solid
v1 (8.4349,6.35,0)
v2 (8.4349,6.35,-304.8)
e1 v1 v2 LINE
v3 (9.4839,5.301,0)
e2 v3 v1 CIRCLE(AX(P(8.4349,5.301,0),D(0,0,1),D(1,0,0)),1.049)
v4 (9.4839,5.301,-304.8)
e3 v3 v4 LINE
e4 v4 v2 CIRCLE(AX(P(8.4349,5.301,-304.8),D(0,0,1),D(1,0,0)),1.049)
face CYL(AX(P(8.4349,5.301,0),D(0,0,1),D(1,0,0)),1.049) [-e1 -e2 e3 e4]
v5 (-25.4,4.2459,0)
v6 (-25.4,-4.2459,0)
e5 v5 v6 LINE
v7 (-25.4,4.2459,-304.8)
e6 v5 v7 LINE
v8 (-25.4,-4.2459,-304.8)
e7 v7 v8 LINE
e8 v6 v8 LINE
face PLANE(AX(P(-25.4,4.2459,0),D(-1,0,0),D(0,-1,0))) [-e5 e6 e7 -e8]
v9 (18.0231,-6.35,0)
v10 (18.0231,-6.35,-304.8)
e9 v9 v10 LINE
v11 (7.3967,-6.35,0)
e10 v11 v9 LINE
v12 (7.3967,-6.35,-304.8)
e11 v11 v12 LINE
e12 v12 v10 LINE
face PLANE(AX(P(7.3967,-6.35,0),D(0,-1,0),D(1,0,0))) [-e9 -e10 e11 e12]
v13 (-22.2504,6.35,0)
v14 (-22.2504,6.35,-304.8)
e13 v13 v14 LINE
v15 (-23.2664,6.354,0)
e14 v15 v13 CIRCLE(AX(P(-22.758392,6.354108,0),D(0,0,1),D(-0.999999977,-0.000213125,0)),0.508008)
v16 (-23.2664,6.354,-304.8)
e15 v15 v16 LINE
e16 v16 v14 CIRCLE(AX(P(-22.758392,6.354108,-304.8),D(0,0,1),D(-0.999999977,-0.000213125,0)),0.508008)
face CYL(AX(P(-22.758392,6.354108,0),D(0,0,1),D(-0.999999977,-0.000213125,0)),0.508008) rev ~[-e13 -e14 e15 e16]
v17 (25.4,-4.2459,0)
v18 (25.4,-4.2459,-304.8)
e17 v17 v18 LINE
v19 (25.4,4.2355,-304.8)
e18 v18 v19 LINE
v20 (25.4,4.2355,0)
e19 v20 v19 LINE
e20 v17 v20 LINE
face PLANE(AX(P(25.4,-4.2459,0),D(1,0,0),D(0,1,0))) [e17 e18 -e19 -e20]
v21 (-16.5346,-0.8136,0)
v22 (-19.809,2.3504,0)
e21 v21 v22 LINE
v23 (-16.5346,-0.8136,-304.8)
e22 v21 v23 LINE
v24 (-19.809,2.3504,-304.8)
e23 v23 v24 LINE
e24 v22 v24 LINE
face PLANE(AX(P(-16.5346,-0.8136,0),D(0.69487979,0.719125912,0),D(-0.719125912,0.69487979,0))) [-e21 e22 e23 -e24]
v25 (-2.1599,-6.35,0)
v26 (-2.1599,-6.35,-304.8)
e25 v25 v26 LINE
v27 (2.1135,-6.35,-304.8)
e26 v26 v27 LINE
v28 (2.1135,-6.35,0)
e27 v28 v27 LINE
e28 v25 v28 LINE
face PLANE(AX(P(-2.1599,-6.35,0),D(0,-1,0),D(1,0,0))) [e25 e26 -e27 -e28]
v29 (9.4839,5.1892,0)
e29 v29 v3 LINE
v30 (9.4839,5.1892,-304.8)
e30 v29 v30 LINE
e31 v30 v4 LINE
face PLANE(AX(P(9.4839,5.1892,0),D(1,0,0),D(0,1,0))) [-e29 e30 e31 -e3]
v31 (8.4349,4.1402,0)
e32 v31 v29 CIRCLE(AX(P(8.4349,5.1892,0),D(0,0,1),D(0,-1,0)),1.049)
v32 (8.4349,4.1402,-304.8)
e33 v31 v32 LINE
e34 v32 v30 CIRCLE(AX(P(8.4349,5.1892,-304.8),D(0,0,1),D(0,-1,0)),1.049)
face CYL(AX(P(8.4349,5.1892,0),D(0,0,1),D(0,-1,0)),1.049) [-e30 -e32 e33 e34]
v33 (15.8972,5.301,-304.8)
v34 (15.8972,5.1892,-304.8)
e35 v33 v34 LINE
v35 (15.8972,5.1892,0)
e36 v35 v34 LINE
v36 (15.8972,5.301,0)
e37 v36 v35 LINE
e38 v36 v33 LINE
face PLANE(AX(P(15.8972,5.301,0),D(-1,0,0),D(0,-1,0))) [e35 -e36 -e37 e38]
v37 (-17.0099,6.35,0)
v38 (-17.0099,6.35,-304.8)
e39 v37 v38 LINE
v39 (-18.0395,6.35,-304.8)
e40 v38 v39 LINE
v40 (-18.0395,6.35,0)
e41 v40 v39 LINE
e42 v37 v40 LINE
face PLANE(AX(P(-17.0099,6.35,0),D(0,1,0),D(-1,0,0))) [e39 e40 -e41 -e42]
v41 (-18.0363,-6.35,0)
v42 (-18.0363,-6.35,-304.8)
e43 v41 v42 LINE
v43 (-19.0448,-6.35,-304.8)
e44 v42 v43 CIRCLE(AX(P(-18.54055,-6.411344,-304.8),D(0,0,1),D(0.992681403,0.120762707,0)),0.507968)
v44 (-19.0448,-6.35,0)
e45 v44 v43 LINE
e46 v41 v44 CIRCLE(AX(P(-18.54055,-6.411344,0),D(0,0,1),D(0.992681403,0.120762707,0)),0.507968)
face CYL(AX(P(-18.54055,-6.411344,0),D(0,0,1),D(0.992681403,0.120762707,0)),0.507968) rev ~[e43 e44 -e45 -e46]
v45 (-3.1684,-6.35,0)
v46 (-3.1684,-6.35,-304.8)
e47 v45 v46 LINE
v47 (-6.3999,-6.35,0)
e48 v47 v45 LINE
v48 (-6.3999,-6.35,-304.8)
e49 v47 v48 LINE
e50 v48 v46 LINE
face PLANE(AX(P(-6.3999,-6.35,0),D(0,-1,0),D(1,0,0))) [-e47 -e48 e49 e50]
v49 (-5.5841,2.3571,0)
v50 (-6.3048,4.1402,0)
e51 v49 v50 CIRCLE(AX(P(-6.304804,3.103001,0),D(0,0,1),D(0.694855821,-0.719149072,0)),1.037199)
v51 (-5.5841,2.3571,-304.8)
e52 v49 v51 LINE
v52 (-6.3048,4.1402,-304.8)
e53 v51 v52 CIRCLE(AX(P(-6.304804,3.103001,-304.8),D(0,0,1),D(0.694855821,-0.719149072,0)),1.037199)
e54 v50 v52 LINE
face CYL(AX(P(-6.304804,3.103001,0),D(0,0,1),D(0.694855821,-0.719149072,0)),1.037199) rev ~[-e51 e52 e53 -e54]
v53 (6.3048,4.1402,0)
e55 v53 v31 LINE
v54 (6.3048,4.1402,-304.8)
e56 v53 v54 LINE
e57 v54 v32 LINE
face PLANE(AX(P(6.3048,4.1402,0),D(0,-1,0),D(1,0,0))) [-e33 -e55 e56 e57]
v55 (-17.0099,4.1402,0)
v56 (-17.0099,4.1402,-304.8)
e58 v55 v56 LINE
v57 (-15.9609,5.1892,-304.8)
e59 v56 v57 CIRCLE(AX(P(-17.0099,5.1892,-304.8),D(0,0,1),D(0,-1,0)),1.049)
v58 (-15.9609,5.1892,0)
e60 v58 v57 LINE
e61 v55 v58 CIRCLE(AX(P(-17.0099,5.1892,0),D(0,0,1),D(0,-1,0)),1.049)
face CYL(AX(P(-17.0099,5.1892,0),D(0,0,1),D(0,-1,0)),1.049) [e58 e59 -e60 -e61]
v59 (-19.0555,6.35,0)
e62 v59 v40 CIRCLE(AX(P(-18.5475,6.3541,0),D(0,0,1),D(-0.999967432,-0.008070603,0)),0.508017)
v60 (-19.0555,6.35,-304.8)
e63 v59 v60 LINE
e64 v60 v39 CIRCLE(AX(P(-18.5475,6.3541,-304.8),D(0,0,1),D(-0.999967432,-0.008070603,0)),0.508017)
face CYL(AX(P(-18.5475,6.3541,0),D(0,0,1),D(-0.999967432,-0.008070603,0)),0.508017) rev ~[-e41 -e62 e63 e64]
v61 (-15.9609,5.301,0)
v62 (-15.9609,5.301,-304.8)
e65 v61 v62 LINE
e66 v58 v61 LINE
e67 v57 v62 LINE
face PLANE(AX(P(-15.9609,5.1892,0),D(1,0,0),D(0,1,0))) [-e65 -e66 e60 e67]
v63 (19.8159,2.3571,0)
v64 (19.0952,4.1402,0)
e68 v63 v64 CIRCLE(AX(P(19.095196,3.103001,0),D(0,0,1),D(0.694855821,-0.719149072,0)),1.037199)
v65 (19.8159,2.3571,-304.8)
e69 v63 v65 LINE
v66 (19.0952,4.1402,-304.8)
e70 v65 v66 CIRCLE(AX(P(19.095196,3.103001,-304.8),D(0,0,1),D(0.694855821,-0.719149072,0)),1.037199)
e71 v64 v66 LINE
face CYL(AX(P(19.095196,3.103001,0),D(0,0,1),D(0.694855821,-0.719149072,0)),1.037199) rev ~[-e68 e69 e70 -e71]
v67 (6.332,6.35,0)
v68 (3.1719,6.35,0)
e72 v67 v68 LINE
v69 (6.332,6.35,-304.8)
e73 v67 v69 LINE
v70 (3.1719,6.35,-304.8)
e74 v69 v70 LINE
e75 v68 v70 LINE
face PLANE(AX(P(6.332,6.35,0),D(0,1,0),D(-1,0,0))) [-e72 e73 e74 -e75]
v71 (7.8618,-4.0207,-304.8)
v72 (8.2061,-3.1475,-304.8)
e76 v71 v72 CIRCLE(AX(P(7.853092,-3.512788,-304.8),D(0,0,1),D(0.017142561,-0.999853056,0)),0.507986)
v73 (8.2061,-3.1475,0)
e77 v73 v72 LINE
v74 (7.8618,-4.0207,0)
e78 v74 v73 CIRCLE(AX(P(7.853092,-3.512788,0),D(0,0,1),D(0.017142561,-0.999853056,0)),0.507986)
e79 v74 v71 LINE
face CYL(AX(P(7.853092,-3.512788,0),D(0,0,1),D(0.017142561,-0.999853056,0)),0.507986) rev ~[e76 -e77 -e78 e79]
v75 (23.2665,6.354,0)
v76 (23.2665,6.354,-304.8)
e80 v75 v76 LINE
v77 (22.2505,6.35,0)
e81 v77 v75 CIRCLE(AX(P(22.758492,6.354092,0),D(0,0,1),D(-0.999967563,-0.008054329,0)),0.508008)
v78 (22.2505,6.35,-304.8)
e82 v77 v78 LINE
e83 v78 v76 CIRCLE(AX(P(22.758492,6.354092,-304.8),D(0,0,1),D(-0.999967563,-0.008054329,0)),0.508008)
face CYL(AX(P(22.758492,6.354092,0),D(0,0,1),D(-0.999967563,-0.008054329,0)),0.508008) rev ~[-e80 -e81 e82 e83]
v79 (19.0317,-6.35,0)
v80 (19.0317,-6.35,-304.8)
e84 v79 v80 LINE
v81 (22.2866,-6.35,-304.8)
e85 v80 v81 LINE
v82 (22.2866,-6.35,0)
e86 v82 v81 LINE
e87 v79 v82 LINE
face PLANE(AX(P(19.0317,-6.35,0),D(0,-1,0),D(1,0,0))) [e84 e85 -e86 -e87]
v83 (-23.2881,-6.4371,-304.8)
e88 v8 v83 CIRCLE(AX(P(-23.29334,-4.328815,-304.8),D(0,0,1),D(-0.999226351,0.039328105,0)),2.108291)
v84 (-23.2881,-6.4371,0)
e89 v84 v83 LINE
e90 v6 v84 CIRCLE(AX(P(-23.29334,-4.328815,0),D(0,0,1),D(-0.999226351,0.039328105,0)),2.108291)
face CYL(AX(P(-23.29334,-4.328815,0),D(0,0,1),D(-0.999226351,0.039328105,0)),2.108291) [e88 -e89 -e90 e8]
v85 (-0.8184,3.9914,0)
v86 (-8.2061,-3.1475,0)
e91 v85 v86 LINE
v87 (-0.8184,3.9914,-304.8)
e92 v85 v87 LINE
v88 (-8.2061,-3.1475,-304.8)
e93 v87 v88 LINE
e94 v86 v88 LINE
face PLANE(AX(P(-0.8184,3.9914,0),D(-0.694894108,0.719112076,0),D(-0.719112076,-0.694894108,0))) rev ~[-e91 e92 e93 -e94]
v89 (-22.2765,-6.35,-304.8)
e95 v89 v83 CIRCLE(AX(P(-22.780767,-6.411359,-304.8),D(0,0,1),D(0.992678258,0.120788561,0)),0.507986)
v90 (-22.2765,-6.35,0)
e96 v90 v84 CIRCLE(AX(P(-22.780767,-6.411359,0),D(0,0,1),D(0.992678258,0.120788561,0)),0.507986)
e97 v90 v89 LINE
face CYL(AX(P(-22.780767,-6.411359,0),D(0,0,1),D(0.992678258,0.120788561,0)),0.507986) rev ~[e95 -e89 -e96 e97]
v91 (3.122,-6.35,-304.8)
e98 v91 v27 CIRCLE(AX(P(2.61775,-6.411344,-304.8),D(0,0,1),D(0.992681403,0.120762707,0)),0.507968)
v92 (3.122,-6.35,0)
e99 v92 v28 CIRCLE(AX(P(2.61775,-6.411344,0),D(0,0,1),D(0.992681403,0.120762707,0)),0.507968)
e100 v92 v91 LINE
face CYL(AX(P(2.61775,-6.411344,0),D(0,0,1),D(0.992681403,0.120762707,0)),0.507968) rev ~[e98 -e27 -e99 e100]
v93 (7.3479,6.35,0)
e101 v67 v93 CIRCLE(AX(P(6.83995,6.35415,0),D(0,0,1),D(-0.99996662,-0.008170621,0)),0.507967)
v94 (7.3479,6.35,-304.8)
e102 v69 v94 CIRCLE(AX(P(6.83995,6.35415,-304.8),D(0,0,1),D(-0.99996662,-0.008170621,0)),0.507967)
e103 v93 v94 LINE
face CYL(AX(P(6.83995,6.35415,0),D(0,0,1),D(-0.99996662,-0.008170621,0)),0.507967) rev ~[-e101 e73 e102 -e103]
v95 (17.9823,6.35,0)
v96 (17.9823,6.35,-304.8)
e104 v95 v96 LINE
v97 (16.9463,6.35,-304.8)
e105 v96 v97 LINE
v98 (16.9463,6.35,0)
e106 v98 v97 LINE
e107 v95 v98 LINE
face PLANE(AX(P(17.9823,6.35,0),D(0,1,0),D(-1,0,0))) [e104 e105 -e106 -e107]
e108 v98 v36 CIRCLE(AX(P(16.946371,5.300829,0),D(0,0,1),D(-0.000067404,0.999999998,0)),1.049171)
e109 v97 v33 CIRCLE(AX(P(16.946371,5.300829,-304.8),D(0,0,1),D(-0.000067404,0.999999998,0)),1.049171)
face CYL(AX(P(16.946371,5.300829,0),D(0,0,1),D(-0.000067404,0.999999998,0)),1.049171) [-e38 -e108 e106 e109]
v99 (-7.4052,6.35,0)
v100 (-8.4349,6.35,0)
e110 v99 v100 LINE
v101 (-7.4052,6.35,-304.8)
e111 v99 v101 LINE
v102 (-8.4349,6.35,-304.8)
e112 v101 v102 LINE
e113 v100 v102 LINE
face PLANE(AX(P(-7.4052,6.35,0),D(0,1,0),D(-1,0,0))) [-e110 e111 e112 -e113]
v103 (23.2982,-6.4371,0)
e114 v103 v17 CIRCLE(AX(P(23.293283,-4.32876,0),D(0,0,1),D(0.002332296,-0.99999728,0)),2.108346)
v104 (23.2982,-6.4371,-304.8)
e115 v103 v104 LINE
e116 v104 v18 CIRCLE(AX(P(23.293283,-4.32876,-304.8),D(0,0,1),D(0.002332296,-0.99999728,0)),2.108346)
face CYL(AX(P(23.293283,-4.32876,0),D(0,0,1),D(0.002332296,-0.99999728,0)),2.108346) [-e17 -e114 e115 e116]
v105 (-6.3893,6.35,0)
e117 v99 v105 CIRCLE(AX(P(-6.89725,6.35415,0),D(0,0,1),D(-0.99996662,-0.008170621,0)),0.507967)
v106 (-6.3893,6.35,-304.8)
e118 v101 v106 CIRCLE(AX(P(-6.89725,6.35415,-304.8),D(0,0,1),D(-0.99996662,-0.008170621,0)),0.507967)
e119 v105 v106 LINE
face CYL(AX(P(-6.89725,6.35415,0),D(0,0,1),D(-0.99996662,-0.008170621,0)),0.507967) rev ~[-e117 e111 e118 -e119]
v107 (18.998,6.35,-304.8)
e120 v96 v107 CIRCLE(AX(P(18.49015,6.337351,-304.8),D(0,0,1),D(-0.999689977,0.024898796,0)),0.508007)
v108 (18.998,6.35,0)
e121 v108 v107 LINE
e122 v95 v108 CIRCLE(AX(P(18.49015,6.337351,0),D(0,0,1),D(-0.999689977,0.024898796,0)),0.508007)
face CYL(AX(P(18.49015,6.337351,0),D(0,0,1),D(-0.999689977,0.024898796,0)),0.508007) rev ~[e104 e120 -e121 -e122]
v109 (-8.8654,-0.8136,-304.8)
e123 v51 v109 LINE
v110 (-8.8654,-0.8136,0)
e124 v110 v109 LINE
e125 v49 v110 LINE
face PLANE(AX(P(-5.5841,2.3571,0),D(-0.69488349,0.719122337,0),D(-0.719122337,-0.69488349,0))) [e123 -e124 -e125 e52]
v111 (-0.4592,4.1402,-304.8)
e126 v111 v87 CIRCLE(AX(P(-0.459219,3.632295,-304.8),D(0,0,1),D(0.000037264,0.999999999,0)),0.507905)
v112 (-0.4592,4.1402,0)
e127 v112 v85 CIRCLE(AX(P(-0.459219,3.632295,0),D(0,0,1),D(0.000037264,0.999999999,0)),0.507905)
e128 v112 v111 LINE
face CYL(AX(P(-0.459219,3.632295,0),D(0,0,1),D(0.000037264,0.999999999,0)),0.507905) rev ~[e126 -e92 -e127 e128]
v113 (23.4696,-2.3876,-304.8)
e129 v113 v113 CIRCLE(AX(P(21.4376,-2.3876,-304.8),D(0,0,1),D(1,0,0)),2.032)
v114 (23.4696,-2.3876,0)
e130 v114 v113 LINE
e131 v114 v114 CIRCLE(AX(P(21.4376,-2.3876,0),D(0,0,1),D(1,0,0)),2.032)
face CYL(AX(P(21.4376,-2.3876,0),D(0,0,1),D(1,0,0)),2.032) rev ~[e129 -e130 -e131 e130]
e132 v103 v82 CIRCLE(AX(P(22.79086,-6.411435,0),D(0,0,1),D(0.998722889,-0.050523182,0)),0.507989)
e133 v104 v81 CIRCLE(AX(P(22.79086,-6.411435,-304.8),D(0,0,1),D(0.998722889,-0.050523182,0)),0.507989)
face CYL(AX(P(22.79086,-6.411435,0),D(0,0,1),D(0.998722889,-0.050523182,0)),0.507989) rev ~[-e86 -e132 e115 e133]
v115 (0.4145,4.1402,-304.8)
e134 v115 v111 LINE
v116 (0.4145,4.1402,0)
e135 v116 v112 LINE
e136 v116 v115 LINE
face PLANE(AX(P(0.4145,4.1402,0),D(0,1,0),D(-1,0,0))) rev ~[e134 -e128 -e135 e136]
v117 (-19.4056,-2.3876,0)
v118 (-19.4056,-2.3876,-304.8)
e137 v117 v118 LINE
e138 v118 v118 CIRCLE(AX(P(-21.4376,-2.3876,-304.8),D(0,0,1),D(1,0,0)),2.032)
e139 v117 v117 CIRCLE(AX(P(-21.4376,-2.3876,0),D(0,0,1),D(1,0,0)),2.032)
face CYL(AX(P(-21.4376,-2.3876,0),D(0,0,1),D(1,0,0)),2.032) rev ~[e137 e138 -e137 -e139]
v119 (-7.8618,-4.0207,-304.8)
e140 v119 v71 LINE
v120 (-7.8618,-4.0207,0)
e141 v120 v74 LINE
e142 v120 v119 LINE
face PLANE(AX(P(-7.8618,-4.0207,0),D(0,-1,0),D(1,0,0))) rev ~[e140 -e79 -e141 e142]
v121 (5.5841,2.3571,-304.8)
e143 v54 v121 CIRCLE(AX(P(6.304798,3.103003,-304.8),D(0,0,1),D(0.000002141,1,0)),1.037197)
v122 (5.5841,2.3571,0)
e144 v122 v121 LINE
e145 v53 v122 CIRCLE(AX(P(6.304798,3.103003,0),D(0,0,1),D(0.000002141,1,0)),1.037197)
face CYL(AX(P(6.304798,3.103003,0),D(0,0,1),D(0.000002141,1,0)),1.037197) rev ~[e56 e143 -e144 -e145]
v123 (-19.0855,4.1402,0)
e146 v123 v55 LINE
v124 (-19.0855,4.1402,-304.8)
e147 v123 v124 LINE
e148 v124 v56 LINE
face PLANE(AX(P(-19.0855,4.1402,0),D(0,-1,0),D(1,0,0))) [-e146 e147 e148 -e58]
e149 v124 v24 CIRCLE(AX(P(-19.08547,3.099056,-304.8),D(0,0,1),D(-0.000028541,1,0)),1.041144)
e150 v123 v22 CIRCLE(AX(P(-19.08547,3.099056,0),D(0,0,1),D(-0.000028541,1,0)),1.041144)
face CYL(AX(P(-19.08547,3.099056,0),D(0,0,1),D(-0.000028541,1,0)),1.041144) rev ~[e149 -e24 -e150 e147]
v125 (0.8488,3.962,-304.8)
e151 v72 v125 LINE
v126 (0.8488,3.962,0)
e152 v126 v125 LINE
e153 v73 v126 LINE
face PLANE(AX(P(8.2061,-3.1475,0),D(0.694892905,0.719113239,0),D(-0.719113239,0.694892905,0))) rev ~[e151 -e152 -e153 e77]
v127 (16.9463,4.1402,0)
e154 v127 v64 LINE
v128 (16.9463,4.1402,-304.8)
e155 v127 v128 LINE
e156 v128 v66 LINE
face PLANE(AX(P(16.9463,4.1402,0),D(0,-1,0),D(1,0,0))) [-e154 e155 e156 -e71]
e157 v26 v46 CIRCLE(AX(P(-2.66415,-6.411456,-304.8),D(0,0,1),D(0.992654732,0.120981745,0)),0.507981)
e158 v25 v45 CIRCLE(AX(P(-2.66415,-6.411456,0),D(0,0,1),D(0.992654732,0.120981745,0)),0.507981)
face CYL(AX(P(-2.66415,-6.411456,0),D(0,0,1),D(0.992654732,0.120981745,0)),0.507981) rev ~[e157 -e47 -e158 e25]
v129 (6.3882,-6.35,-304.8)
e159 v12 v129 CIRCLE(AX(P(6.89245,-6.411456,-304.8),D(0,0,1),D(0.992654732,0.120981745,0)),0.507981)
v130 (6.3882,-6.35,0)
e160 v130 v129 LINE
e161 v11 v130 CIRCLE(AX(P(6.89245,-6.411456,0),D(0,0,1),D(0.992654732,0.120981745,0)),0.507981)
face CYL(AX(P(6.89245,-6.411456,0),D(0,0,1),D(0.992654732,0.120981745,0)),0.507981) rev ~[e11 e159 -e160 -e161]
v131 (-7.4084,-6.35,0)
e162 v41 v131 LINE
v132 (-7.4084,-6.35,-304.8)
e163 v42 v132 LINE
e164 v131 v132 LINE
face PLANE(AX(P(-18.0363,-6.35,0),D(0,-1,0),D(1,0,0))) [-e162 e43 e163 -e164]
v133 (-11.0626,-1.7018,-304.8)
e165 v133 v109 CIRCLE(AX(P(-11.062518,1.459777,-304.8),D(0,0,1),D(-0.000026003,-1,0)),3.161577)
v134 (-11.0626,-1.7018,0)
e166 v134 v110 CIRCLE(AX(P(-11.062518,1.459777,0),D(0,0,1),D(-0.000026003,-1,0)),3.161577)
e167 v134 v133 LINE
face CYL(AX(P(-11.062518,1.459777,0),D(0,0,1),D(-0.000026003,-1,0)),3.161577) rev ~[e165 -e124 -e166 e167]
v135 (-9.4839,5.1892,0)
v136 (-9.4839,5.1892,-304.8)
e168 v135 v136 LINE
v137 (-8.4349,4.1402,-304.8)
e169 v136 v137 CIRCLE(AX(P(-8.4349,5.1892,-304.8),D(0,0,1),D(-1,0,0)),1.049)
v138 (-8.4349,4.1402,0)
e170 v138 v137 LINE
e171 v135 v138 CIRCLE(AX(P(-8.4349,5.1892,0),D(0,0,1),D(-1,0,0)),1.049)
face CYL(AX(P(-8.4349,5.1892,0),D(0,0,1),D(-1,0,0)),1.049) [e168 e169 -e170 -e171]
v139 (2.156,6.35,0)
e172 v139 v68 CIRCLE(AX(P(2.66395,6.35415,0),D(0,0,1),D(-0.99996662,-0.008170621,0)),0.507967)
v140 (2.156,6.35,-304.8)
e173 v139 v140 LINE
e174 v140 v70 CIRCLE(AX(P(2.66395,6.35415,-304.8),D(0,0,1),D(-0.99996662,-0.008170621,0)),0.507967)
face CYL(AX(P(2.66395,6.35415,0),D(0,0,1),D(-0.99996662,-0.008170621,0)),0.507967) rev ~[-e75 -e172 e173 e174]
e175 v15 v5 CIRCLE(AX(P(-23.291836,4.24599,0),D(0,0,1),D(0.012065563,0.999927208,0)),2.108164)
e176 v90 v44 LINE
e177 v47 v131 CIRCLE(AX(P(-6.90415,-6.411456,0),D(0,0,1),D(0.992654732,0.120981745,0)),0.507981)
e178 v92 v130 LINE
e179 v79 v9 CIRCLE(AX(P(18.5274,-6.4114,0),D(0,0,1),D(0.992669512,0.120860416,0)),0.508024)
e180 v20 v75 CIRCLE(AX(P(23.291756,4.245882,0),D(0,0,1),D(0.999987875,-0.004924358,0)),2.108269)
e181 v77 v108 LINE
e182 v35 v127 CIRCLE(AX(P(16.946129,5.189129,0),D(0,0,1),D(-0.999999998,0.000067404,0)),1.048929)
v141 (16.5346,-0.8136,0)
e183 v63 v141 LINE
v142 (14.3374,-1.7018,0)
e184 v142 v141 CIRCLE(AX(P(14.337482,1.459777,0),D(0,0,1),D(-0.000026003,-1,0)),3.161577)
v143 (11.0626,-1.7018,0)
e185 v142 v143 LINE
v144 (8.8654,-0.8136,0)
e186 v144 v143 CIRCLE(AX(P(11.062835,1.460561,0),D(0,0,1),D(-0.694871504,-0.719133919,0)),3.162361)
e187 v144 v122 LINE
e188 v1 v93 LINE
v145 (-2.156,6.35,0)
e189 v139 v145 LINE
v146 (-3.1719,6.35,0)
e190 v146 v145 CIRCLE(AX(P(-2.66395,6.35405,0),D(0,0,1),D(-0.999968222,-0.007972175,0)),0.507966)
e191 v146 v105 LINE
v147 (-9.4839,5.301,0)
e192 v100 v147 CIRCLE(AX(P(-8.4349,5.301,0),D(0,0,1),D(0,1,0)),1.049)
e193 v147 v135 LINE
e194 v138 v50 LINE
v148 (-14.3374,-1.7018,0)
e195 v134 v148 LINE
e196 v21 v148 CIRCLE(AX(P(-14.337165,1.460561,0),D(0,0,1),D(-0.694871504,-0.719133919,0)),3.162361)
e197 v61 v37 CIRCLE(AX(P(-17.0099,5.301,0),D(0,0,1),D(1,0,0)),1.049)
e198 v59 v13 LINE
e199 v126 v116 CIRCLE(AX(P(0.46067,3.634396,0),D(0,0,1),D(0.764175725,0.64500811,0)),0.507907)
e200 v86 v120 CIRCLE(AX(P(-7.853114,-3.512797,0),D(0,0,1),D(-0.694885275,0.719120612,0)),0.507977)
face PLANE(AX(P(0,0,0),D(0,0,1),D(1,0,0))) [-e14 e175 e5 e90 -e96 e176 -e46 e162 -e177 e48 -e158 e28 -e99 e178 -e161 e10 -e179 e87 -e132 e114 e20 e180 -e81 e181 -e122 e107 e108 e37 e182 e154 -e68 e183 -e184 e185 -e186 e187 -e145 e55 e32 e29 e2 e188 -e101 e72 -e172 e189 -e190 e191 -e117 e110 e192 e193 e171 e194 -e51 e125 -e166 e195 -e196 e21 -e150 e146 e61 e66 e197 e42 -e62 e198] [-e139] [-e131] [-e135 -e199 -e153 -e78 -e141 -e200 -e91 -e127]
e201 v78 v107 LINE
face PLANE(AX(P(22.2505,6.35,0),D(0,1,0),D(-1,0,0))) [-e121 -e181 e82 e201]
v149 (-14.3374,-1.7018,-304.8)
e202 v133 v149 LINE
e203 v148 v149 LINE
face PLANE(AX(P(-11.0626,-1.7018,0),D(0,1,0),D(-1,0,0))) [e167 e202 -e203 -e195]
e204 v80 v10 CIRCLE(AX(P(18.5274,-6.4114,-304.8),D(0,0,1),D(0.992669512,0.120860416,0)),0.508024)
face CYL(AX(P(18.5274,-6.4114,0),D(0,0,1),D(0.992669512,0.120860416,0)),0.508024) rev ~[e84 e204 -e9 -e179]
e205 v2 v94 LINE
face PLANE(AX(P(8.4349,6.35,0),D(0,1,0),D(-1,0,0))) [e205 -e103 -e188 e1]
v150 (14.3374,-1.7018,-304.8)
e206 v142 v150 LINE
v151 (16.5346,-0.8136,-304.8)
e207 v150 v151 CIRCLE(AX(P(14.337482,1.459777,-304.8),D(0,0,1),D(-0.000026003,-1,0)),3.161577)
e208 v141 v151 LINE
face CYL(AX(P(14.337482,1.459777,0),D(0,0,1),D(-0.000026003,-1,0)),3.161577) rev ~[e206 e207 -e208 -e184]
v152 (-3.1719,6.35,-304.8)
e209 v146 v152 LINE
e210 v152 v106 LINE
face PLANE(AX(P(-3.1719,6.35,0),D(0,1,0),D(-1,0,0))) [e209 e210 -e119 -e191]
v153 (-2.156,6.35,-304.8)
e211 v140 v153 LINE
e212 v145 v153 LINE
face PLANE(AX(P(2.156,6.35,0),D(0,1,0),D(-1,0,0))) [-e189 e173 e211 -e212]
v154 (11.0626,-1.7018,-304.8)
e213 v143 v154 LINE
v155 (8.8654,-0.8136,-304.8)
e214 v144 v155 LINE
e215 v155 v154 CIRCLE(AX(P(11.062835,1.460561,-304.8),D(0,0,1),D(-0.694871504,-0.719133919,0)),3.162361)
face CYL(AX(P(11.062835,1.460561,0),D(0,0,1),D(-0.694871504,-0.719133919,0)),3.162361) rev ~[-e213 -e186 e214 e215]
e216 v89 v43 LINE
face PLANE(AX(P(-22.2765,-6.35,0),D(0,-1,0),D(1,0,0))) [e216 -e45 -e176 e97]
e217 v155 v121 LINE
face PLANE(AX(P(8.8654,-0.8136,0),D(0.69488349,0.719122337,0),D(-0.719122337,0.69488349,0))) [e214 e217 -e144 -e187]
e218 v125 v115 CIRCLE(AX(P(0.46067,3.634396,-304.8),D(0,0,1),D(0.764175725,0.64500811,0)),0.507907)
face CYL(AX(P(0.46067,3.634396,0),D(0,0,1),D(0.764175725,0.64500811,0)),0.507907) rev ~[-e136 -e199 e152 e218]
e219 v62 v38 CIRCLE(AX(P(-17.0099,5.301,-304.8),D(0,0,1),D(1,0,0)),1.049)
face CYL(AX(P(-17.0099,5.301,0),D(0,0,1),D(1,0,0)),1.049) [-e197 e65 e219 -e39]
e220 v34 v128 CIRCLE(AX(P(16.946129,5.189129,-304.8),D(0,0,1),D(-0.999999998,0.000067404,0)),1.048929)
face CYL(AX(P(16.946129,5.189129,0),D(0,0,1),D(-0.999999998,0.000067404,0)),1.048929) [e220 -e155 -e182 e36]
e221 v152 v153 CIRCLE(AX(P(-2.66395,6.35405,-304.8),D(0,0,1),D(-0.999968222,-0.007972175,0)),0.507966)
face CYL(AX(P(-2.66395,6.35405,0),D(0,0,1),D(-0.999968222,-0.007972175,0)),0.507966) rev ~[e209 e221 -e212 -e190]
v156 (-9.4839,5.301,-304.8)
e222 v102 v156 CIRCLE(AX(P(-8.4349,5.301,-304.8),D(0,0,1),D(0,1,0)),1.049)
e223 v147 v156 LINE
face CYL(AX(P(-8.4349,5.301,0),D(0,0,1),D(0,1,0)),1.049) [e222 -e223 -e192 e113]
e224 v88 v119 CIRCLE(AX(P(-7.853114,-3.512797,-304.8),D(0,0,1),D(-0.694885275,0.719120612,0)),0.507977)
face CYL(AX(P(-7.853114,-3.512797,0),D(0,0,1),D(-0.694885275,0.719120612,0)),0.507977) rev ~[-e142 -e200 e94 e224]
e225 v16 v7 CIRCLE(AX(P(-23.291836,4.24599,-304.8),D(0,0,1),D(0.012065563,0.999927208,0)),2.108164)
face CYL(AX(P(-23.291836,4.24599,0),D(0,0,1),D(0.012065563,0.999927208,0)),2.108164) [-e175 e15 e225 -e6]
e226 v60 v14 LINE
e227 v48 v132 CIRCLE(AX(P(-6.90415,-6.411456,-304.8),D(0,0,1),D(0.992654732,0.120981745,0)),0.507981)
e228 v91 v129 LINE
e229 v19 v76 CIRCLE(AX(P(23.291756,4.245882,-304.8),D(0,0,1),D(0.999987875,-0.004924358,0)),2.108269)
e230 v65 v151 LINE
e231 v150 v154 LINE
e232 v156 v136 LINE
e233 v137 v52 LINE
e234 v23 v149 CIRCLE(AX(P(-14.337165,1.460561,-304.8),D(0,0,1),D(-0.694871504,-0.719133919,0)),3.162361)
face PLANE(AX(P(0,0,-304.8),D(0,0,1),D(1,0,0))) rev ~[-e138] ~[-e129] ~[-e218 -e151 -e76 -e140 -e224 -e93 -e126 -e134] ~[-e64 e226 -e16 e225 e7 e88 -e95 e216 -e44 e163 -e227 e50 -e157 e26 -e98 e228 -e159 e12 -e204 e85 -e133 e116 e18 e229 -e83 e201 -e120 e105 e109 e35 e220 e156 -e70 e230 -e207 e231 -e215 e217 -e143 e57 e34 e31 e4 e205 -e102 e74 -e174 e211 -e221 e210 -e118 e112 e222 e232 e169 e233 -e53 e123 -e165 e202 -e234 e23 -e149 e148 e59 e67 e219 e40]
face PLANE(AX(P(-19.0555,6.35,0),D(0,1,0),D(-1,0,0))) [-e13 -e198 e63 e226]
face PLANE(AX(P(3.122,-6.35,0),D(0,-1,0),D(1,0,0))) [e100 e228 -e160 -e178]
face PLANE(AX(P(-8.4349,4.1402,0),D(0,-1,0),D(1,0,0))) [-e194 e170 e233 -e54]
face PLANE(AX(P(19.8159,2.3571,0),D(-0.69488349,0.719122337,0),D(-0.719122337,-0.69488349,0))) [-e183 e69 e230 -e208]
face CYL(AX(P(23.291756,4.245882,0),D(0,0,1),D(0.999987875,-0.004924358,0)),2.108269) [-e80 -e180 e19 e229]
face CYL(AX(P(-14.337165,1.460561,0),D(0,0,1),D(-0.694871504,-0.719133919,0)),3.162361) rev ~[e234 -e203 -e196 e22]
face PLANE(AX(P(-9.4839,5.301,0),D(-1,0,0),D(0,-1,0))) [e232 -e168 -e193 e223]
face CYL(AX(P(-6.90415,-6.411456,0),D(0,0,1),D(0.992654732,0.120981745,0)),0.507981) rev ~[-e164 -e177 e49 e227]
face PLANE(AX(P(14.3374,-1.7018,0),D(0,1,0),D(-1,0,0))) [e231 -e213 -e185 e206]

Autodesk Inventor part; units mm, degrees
ref_plane "YZ Plane" through (0, 0, 0) normal (1, 0, 0) x (0, 1, 0)
ref_plane "XZ Plane" through (0, 0, 0) normal (0, 1, 0) x (-1, 0, 0)
ref_plane "XY Plane" through (0, 0, 0) normal (0, 0, 1) x (1, 0, 0)
sketch "Sketch1" plane through (0, 0, 0) normal (0, 0, 1) x (1, 0, 0)
  arc A0 (-8.2061, -3.1475) -> (-7.8618, -4.0207) centre (-7.8531, -3.5128) ccw
  line L0 (-0.8184, 3.9914) -> (-8.2061, -3.1475)
  arc A1 (-0.4592, 4.1402) -> (-0.8184, 3.9914) centre (-0.4592, 3.6322) ccw
  line L1 (0.4145, 4.1402) -> (-0.4592, 4.1402)
  arc A2 (0.8488, 3.962) -> (0.4145, 4.1402) centre (0.4606, 3.6343) ccw
  line L2 (8.2061, -3.1475) -> (0.8488, 3.962)
  arc A3 (7.8618, -4.0207) -> (8.2061, -3.1475) centre (7.8531, -3.5128) ccw
  line L3 (-7.8618, -4.0207) -> (7.8618, -4.0207)
  circle A4 centre (21.4376, -2.3876) radius 2.032
  circle A5 centre (-21.4376, -2.3876) radius 2.032
  arc A6 (16.9463, 6.35) -> (15.8972, 5.301) centre (16.9463, 5.301) ccw
  line L4 (15.8972, 5.301) -> (15.8972, 5.1892)
  arc A7 (15.8972, 5.1892) -> (16.9463, 4.1402) centre (16.9463, 5.1892) ccw
  line L5 (16.9463, 4.1402) -> (19.0952, 4.1402)
  arc A8 (19.8159, 2.3571) -> (19.0952, 4.1402) centre (19.0952, 3.103) ccw
  line L6 (19.8159, 2.3571) -> (16.5346, -0.8136)
  arc A9 (14.3374, -1.7018) -> (16.5346, -0.8136) centre (14.3374, 1.4602) ccw
  line L7 (14.3374, -1.7018) -> (11.0626, -1.7018)
  arc A10 (8.8654, -0.8136) -> (11.0626, -1.7018) centre (11.0626, 1.4602) ccw
  line L8 (8.8654, -0.8136) -> (5.5841, 2.3571)
  arc A11 (6.3048, 4.1402) -> (5.5841, 2.3571) centre (6.3048, 3.103) ccw
  line L9 (6.3048, 4.1402) -> (8.4349, 4.1402)
  arc A12 (8.4349, 4.1402) -> (9.4839, 5.1892) centre (8.4349, 5.1892) ccw
  line L10 (9.4839, 5.1892) -> (9.4839, 5.301)
  arc A13 (9.4839, 5.301) -> (8.4349, 6.35) centre (8.4349, 5.301) ccw
  line L11 (8.4349, 6.35) -> (7.3479, 6.35)
  arc A14 (6.332, 6.35) -> (7.3479, 6.35) centre (6.8399, 6.3541) ccw
  line L12 (6.332, 6.35) -> (3.1719, 6.35)
  arc A15 (2.156, 6.35) -> (3.1719, 6.35) centre (2.6639, 6.3541) ccw
  line L13 (2.156, 6.35) -> (-2.156, 6.35)
  arc A16 (-3.1719, 6.35) -> (-2.156, 6.35) centre (-2.6639, 6.3541) ccw
  line L14 (-3.1719, 6.35) -> (-6.3893, 6.35)
  arc A17 (-7.4052, 6.35) -> (-6.3893, 6.35) centre (-6.8973, 6.3541) ccw
  line L15 (-7.4052, 6.35) -> (-8.4349, 6.35)
  arc A18 (-8.4349, 6.35) -> (-9.4839, 5.301) centre (-8.4349, 5.301) ccw
  line L16 (-9.4839, 5.301) -> (-9.4839, 5.1892)
  arc A19 (-9.4839, 5.1892) -> (-8.4349, 4.1402) centre (-8.4349, 5.1892) ccw
  line L17 (-8.4349, 4.1402) -> (-6.3048, 4.1402)
  arc A20 (-5.5841, 2.3571) -> (-6.3048, 4.1402) centre (-6.3048, 3.103) ccw
  line L18 (-5.5841, 2.3571) -> (-8.8654, -0.8136)
  arc A21 (-11.0626, -1.7018) -> (-8.8654, -0.8136) centre (-11.0626, 1.4602) ccw
  line L19 (-11.0626, -1.7018) -> (-14.3374, -1.7018)
  arc A22 (-16.5346, -0.8136) -> (-14.3374, -1.7018) centre (-14.3374, 1.4602) ccw
  line L20 (-16.5346, -0.8136) -> (-19.809, 2.3504)
  arc A23 (-19.0855, 4.1402) -> (-19.809, 2.3504) centre (-19.0855, 3.0991) ccw
  line L21 (-19.0855, 4.1402) -> (-17.0099, 4.1402)
  arc A24 (-17.0099, 4.1402) -> (-15.9609, 5.1892) centre (-17.0099, 5.1892) ccw
  line L22 (-15.9609, 5.1892) -> (-15.9609, 5.301)
  arc A25 (-15.9609, 5.301) -> (-17.0099, 6.35) centre (-17.0099, 5.301) ccw
  line L23 (-17.0099, 6.35) -> (-18.0395, 6.35)
  arc A26 (-19.0555, 6.35) -> (-18.0395, 6.35) centre (-18.5475, 6.3541) ccw
  line L24 (-19.0555, 6.35) -> (-22.2504, 6.35)
  arc A27 (-23.2664, 6.354) -> (-22.2504, 6.35) centre (-22.7584, 6.3541) ccw
  arc A28 (-23.2664, 6.354) -> (-25.4, 4.2459) centre (-23.2918, 4.2459) ccw
  line L25 (-25.4, 4.2459) -> (-25.4, -4.2459)
  arc A29 (-25.4, -4.2459) -> (-23.2881, -6.4371) centre (-23.2933, -4.3288) ccw
  arc A30 (-22.2765, -6.35) -> (-23.2881, -6.4371) centre (-22.7808, -6.4114) ccw
  line L26 (-22.2765, -6.35) -> (-19.0448, -6.35)
  arc A31 (-18.0363, -6.35) -> (-19.0448, -6.35) centre (-18.5406, -6.4114) ccw
  line L27 (-18.0363, -6.35) -> (-7.4084, -6.35)
  arc A32 (-6.3999, -6.35) -> (-7.4084, -6.35) centre (-6.9041, -6.4114) ccw
  line L28 (-6.3999, -6.35) -> (-3.1684, -6.35)
  arc A33 (-2.1599, -6.35) -> (-3.1684, -6.35) centre (-2.6641, -6.4114) ccw
  line L29 (-2.1599, -6.35) -> (2.1135, -6.35)
  arc A34 (3.122, -6.35) -> (2.1135, -6.35) centre (2.6177, -6.4114) ccw
  line L30 (3.122, -6.35) -> (6.3882, -6.35)
  arc A35 (7.3967, -6.35) -> (6.3882, -6.35) centre (6.8925, -6.4114) ccw
  line L31 (7.3967, -6.35) -> (18.0231, -6.35)
  arc A36 (19.0317, -6.35) -> (18.0231, -6.35) centre (18.5274, -6.4114) ccw
  line L32 (19.0317, -6.35) -> (22.2866, -6.35)
  arc A37 (23.2982, -6.4371) -> (22.2866, -6.35) centre (22.7909, -6.4114) ccw
  arc A38 (23.2982, -6.4371) -> (25.4, -4.2459) centre (23.2933, -4.3288) ccw
  line L33 (25.4, -4.2459) -> (25.4, 4.2355)
  arc A39 (25.4, 4.2355) -> (23.2665, 6.354) centre (23.2918, 4.2459) ccw
  arc A40 (22.2505, 6.35) -> (23.2665, 6.354) centre (22.7585, 6.3541) ccw
  line L34 (22.2505, 6.35) -> (18.998, 6.35)
  arc A41 (17.9823, 6.35) -> (18.998, 6.35) centre (18.4902, 6.3374) ccw
  line L35 (17.9823, 6.35) -> (16.9463, 6.35)
  point P0 (0, 0)
extrude "Extrusion1" add sketch "Sketch1" against normal blind 304.8
properties part number "2012"
